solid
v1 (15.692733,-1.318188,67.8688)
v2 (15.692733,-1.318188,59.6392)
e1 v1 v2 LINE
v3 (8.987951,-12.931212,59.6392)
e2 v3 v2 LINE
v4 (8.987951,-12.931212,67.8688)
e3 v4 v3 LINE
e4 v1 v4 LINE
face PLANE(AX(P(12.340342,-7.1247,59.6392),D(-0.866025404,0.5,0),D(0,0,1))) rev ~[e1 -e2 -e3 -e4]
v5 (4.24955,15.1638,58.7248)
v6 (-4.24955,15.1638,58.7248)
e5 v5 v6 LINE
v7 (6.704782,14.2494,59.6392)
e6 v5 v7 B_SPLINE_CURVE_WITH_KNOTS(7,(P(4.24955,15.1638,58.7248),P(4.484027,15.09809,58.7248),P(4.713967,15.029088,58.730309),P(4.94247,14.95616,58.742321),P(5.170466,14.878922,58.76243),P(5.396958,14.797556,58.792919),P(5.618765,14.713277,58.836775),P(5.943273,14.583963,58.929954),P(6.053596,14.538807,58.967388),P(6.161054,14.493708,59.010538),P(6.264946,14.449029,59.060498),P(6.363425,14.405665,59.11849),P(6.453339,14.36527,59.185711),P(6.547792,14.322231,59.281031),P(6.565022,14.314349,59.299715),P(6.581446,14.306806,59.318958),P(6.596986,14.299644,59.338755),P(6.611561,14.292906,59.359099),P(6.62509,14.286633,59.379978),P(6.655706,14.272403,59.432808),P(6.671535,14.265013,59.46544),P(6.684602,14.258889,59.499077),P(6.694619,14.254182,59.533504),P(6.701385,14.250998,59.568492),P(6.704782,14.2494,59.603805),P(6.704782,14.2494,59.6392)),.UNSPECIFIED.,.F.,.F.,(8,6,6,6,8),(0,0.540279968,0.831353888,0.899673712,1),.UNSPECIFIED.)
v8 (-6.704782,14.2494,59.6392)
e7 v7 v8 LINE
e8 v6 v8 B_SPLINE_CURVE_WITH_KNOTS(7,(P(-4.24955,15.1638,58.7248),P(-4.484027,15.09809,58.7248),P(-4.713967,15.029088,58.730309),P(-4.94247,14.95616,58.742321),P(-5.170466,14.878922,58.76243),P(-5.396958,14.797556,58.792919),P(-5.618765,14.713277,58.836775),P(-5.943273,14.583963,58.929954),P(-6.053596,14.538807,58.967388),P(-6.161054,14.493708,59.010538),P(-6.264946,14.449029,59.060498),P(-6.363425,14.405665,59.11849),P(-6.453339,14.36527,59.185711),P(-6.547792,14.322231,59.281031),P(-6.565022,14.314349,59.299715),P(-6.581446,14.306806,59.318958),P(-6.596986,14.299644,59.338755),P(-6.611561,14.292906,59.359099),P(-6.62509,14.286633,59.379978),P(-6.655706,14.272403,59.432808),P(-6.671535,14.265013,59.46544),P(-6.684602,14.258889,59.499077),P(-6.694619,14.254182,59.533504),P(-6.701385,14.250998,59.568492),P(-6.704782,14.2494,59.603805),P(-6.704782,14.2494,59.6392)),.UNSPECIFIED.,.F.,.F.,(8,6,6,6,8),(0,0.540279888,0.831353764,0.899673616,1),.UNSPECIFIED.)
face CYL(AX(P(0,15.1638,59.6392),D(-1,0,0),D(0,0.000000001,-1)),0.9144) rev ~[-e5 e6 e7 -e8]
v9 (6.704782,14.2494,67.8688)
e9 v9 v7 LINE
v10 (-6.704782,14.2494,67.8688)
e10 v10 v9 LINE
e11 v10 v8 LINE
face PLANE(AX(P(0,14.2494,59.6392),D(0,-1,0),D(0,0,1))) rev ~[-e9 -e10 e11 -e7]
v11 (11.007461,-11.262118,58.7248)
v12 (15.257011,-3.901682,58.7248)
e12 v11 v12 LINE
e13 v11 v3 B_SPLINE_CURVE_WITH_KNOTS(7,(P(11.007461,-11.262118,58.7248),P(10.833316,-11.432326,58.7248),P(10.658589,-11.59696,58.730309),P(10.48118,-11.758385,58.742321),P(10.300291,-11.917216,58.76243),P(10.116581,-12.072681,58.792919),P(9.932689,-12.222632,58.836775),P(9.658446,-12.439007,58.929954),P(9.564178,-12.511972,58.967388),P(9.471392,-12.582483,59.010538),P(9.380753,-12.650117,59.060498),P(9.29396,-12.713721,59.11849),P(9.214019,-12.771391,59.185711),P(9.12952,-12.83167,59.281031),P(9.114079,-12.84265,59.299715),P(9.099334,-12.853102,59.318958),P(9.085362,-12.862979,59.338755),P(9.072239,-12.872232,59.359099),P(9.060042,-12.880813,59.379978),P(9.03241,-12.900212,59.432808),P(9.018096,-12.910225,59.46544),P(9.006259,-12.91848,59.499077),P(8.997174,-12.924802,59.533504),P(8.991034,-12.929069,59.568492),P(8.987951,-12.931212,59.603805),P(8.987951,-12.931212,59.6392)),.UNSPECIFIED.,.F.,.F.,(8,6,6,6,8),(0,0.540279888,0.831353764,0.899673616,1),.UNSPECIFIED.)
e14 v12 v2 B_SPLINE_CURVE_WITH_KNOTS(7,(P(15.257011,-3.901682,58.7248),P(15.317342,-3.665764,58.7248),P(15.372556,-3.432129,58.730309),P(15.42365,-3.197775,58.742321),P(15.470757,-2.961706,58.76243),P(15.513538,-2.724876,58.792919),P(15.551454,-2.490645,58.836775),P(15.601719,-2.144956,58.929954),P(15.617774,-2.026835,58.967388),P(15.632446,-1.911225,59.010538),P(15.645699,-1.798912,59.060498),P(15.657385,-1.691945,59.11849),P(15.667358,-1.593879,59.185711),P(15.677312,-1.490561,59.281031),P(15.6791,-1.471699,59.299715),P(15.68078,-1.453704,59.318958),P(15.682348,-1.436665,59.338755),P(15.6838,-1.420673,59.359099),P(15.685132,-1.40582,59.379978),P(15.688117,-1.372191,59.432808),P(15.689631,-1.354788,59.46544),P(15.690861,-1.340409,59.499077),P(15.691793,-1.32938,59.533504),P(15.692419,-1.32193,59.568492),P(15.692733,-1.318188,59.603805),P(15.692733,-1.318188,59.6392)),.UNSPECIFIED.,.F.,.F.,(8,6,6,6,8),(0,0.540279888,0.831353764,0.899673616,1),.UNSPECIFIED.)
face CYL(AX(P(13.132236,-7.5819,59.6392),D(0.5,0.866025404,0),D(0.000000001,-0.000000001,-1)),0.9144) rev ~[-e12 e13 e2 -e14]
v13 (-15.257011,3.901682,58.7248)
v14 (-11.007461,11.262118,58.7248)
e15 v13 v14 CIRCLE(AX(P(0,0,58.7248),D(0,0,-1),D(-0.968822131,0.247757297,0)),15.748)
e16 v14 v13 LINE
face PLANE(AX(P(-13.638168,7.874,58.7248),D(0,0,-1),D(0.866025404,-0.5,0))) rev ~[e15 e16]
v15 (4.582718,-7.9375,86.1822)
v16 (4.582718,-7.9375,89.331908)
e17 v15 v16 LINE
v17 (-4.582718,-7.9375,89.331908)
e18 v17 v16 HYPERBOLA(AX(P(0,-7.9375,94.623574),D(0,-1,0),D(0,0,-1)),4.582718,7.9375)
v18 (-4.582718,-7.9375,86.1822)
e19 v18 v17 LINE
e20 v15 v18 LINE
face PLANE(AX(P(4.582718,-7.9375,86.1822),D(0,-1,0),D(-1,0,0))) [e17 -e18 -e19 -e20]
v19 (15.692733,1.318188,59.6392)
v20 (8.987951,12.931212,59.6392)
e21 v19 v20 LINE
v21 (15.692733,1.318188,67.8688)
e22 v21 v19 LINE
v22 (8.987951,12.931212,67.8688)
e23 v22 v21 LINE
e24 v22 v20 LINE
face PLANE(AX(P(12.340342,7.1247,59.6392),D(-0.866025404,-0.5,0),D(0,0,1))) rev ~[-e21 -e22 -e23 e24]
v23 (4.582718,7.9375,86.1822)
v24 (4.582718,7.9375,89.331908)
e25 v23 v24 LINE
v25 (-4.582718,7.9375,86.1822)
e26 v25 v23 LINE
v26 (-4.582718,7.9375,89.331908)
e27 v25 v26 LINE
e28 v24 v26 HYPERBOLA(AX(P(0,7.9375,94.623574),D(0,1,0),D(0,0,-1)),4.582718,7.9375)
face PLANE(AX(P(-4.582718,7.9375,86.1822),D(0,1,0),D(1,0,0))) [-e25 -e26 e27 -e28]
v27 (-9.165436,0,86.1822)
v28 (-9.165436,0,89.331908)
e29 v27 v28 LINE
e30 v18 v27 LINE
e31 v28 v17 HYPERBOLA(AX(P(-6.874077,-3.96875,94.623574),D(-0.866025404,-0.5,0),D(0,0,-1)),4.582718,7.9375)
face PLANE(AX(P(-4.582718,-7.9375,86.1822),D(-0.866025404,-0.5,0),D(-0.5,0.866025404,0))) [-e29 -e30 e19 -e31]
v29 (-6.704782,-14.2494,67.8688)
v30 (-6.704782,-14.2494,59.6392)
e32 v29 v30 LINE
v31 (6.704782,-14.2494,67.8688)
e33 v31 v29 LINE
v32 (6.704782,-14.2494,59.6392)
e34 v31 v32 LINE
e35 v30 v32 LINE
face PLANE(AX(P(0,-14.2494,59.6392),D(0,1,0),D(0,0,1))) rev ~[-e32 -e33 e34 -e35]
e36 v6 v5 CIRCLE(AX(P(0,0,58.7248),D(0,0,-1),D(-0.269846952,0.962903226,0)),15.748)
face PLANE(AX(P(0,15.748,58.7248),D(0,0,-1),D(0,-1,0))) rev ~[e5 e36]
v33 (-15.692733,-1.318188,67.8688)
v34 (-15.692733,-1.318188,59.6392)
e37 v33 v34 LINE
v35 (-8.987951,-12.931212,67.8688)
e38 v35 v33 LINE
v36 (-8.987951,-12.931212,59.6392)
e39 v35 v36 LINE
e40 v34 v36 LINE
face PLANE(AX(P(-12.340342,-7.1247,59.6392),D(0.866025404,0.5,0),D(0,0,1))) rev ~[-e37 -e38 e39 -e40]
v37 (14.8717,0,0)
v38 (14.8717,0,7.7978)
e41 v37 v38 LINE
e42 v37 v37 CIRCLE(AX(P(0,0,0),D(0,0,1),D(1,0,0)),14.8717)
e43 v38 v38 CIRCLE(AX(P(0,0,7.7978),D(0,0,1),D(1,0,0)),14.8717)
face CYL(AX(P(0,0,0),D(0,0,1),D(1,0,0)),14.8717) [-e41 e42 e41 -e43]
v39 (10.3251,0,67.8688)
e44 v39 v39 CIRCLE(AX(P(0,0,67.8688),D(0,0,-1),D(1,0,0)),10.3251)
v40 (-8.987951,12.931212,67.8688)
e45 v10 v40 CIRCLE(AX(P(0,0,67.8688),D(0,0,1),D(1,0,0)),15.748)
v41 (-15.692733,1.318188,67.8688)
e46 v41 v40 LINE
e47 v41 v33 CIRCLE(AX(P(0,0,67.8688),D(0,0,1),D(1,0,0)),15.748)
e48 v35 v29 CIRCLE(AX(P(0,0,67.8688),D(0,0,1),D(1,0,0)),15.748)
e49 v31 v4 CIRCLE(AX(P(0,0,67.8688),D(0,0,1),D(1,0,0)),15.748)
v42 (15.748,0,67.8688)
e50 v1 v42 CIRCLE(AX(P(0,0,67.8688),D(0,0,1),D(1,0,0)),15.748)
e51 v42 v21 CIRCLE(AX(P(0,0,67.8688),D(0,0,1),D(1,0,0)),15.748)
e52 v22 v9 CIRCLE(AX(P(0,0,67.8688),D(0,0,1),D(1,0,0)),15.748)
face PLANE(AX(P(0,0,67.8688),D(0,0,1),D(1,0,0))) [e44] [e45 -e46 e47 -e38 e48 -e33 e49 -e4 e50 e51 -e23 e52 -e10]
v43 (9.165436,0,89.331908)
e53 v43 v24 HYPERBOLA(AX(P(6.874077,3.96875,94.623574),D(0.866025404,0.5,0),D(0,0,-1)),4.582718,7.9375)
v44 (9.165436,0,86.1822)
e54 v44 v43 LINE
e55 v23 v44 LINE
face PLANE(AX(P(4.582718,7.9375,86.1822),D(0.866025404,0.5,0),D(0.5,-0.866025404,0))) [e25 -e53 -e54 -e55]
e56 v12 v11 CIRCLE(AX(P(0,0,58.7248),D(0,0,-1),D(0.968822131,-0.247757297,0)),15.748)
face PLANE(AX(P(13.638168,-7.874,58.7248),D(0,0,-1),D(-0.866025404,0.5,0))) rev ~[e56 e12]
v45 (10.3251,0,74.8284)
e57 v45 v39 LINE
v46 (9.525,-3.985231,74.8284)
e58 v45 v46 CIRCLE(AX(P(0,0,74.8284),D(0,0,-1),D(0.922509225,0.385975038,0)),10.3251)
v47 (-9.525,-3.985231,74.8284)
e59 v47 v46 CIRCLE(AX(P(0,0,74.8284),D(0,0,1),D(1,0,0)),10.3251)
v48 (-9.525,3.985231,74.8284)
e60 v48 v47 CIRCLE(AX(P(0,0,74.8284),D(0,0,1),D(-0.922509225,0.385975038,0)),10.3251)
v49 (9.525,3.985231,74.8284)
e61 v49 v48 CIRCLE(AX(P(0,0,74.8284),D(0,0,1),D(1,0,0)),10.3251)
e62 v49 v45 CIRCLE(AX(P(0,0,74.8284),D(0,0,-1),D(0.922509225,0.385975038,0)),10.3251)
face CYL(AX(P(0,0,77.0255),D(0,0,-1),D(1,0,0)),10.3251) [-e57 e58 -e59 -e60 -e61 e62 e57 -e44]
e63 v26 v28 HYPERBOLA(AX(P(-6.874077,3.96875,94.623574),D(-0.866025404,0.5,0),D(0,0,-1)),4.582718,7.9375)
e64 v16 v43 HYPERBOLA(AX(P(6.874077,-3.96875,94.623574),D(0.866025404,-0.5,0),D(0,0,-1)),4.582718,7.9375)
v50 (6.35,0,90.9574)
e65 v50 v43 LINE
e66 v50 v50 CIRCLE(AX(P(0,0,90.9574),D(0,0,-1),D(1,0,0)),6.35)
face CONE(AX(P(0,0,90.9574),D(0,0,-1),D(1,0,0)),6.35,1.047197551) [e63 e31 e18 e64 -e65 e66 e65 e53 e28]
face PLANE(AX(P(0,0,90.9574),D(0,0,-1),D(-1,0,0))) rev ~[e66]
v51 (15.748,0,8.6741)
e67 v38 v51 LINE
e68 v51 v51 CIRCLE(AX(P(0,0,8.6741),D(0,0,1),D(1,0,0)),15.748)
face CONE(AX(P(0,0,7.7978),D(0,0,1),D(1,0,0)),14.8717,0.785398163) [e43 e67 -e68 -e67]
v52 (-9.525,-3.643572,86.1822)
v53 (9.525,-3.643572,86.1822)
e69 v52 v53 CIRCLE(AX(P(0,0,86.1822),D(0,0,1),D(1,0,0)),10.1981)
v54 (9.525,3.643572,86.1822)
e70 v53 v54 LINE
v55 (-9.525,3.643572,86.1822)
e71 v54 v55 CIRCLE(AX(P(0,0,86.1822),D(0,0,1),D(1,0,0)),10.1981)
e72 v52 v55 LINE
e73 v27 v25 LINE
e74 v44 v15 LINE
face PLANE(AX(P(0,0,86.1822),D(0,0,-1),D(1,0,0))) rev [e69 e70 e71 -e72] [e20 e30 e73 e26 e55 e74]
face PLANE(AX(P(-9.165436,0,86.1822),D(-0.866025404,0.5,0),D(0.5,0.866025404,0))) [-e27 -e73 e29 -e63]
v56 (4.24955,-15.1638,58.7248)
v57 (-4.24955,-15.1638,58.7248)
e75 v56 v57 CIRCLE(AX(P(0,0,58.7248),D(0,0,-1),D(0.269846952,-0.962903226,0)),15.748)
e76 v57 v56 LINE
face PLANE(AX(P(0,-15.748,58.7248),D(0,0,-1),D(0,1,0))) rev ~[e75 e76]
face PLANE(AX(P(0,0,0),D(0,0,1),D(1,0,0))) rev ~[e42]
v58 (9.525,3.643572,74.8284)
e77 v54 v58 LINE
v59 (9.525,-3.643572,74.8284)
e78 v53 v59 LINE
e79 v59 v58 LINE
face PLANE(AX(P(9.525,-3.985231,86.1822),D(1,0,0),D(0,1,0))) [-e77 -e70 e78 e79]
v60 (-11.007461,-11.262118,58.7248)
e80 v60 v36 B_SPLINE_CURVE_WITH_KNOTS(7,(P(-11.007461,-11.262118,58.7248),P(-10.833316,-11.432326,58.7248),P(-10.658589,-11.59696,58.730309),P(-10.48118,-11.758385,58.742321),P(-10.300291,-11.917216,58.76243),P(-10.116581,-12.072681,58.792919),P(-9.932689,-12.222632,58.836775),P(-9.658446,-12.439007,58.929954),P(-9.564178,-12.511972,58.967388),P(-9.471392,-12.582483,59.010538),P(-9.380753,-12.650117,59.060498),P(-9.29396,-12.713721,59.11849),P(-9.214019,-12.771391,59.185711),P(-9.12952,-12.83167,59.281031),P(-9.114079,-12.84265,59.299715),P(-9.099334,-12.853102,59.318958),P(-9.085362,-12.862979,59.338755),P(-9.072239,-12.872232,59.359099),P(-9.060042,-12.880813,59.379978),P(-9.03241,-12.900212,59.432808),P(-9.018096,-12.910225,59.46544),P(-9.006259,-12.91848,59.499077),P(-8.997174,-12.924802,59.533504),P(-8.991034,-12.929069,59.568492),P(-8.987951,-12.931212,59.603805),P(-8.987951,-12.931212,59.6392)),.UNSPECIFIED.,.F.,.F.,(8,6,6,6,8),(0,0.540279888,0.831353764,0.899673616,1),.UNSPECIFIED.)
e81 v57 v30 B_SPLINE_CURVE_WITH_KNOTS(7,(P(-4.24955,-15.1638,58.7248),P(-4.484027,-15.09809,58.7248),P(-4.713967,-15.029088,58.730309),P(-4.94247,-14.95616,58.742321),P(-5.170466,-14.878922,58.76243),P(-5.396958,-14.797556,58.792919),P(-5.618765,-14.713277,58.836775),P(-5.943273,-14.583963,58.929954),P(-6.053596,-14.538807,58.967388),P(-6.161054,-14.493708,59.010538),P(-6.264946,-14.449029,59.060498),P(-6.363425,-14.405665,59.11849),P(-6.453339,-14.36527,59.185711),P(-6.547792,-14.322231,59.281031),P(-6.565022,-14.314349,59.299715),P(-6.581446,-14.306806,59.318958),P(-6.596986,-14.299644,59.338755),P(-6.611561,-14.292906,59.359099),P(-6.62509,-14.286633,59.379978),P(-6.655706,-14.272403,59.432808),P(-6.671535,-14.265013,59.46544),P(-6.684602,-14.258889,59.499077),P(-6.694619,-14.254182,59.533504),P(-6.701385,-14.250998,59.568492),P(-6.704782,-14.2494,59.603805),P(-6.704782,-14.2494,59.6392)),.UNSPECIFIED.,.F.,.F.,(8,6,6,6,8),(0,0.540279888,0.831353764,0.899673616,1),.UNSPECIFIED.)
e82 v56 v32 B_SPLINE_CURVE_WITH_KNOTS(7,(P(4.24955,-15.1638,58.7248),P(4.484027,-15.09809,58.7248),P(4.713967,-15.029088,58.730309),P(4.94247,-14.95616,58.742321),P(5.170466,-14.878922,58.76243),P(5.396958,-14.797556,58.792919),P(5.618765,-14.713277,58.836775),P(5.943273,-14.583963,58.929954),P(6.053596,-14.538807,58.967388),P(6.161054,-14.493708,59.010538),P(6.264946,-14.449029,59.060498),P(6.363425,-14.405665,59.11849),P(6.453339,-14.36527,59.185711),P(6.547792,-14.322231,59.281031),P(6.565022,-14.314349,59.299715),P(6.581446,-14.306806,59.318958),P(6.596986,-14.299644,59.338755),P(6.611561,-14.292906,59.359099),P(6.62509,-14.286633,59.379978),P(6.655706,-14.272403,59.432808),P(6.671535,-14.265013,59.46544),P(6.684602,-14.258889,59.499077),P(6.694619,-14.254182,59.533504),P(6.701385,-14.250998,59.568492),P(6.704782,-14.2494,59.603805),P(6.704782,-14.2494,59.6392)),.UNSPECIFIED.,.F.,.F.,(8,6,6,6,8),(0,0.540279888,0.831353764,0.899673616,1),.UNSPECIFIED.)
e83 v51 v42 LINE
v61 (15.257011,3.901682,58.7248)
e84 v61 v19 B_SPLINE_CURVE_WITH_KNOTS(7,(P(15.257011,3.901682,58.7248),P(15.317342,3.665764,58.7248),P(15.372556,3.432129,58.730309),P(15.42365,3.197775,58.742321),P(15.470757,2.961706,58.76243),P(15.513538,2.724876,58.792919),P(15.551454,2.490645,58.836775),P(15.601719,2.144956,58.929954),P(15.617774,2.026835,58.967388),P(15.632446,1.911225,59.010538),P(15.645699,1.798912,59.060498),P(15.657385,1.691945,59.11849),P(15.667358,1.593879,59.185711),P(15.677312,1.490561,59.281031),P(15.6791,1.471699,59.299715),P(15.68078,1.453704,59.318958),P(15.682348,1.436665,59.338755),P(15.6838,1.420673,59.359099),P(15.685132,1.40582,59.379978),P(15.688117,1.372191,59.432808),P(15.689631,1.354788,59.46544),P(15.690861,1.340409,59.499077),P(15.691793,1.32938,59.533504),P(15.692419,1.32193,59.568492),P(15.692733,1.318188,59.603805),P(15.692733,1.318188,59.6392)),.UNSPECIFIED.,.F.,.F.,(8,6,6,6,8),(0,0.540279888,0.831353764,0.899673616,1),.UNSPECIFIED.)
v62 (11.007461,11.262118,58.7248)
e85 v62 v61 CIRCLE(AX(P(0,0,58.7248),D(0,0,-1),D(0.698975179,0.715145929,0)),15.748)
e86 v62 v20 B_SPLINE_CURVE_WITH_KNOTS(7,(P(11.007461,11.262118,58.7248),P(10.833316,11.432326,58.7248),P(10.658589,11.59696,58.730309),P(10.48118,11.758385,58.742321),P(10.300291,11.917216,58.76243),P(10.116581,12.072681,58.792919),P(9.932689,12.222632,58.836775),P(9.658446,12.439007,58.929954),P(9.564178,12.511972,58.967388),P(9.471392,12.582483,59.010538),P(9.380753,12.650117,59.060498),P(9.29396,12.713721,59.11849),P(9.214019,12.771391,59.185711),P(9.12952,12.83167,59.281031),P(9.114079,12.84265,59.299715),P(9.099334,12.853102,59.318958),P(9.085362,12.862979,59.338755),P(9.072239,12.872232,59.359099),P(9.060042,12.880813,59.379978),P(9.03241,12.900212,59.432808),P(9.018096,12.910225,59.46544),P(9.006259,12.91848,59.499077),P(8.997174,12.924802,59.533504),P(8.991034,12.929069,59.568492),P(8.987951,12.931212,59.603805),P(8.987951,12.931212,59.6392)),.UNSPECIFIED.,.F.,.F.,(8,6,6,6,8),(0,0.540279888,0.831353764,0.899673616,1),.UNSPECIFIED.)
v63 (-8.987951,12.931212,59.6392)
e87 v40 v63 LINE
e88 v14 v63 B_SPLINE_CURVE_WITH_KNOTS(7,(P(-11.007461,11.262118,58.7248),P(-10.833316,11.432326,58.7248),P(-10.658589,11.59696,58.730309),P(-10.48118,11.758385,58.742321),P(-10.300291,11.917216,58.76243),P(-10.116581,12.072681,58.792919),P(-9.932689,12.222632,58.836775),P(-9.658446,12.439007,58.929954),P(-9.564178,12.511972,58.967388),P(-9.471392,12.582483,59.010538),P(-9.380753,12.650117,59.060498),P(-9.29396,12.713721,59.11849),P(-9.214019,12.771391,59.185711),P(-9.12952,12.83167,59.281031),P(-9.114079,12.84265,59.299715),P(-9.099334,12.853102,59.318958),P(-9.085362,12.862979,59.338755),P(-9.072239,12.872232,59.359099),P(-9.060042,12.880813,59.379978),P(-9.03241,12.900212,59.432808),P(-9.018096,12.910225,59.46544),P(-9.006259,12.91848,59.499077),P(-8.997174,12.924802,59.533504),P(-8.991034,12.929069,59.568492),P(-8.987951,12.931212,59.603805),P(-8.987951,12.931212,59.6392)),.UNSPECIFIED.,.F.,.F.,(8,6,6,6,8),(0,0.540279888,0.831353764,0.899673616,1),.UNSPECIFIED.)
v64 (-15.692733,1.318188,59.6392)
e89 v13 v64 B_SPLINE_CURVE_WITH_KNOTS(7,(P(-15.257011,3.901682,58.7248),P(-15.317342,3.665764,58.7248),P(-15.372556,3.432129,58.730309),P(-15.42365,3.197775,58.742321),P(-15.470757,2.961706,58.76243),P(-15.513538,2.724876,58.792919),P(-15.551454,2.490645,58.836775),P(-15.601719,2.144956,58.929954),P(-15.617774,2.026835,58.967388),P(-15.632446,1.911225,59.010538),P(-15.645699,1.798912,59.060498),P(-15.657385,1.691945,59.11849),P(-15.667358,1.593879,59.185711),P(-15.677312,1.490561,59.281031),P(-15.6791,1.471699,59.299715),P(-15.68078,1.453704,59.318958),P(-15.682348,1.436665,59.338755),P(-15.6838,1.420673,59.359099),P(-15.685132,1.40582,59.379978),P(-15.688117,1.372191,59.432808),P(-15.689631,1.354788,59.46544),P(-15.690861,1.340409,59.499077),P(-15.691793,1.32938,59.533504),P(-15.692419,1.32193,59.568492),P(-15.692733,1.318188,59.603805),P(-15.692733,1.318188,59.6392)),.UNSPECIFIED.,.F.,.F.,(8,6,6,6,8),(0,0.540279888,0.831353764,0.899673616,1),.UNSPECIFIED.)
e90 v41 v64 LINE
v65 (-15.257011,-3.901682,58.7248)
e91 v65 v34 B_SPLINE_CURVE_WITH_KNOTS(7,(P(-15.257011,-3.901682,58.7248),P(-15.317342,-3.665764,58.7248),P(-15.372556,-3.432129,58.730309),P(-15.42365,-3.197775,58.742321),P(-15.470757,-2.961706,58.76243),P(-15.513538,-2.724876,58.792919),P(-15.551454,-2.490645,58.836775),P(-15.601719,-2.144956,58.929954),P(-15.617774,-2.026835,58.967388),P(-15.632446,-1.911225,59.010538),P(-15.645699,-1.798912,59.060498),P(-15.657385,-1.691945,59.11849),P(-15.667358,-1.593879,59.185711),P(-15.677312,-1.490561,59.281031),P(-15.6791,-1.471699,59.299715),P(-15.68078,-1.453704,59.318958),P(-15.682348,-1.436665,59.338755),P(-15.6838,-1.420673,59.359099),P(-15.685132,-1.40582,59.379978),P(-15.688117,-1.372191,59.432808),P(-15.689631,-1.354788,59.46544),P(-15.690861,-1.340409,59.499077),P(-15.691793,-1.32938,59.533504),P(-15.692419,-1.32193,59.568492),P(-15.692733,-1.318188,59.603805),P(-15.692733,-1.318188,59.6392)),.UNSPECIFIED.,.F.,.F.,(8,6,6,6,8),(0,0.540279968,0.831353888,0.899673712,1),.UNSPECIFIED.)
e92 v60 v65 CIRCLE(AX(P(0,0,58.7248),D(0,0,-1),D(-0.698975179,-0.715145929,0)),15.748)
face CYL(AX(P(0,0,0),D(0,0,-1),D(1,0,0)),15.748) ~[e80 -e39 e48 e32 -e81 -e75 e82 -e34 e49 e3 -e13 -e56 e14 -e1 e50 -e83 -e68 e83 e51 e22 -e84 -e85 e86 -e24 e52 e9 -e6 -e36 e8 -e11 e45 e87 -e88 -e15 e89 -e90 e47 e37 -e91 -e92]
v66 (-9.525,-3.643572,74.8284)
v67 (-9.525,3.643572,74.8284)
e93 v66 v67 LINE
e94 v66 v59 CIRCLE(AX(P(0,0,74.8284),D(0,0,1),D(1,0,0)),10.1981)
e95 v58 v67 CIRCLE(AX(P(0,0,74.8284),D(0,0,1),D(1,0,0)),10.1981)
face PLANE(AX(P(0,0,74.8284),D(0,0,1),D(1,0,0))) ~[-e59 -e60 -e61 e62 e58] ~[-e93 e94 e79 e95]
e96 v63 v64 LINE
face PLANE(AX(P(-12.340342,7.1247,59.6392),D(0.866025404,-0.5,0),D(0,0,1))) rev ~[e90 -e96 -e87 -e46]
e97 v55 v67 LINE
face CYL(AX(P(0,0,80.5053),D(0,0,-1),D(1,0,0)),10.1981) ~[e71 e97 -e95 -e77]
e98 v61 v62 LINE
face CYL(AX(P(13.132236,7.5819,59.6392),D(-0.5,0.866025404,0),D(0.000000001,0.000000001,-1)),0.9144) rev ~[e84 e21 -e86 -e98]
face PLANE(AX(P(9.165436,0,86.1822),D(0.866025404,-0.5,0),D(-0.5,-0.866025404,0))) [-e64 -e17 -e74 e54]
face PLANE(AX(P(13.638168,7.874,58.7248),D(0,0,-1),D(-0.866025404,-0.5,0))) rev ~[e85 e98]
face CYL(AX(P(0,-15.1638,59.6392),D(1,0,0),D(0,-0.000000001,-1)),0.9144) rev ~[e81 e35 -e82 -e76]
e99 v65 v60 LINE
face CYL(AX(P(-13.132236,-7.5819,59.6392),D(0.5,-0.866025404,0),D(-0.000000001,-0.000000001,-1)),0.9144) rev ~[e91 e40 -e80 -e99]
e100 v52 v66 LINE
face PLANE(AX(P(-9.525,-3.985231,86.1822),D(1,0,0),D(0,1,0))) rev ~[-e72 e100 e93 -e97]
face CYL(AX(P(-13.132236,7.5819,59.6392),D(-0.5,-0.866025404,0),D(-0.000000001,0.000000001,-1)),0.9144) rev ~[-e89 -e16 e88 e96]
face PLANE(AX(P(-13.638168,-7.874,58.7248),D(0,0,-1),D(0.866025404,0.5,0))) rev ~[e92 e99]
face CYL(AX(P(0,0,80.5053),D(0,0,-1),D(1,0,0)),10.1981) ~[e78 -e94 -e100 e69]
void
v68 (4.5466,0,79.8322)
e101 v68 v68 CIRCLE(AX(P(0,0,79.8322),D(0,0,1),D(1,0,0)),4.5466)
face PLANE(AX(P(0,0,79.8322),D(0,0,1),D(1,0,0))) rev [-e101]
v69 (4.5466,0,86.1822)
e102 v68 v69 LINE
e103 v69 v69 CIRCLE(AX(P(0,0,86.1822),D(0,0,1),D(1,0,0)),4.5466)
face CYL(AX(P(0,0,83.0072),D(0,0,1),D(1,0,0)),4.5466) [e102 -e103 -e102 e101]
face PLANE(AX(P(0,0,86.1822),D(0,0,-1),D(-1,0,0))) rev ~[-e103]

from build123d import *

# Parameters (mm, degrees)
SKETCH1_R           = 15.748
EXTRUDE1_DEPTH      = 67.8688
CUT_EXTRUDE1_DEPTH  = 18.8976
SKETCH11_W          = 18.3134
SKETCH11_H          = 10.3251
S2D0011_W           = 4.5466
S2D0011_H           = 6.35
CUT_EXTRUDE10_DEPTH = 11.3538
EXTRUDE2_DEPTH      = 4.7752
CIRPATTERN2_COUNT   = 6
SKETCH18_W          = 11.3538
SKETCH18_H          = 0.127


with BuildPart() as part:
    # Sketch1 → Extrude1 (new body)
    with BuildSketch(Plane.XY):
        Circle(SKETCH1_R)
    extrude(amount=EXTRUDE1_DEPTH)

    # Sketch2 → Cut-Extrude1 (cut, symmetric)
    with BuildSketch(Plane(origin=(0, 0, 0), x_dir=(0, 0, 1), z_dir=(1, 0, 0))):
        with BuildLine():
            Line((58.7248, 15.748), (58.7248, 15.1638))
            ThreePointArc((58.7248, 15.1638), (58.992621559, 14.517221559), (59.6392, 14.2494))
            Line((59.6392, 14.2494), (67.8688, 14.2494))
            Line((67.8688, 14.2494), (67.8688, 15.748))
            Line((67.8688, 15.748), (58.7248, 15.748))
        make_face()
    cut_extrude1 = extrude(amount=CUT_EXTRUDE1_DEPTH, both=True, mode=Mode.SUBTRACT)

    # Sketch10 → Cut-Revolve1 (revolve, cut)
    with BuildSketch(Plane(origin=(0, 0, 0), x_dir=(0, 0, 1), z_dir=(1, 0, 0)), mode=Mode.PRIVATE) as cut_revolve1_sk:
        Polygon((0, 14.8717), (7.7978, 14.8717), (8.6741, 15.748), (0, 15.748), align=None)
    revolve(cut_revolve1_sk.sketch.rotate(Axis((0, 0, -0.433705), (0, 0, 1)), 90), axis=Axis((0, 0, -0.433705), (0, 0, 1)), mode=Mode.SUBTRACT)  # turned: the seam where the file's is

    # Sketch11 → Revolve1 (revolve)
    with BuildSketch(Plane(origin=(0, 0, 0), x_dir=(0, 0, -1), z_dir=(1, 0, 0)), mode=Mode.PRIVATE) as revolve1_sk:
        with Locations((-77.0255, 5.16255)):
            Rectangle(SKETCH11_W, SKETCH11_H)
    revolve(revolve1_sk.sketch.rotate(Axis((0, 0, 71.06412), (0, 0, -1)), 90), axis=Axis((0, 0, 71.06412), (0, 0, -1)))  # turned: the seam where the file's is

    # S2D0011 → Cut-Revolve2 (revolve, cut)
    with BuildSketch(Plane(origin=(-4.5466, 0, 70.3072), x_dir=(-1, 0, 0), z_dir=(0, 1, 0)), mode=Mode.PRIVATE) as cut_revolve2_sk:
        with Locations((-2.2733, 12.7)):
            Rectangle(S2D0011_W, S2D0011_H)
    revolve(cut_revolve2_sk.sketch.rotate(Axis((0, 0, 48.067068782), (0, 0, 1)), 180), axis=Axis((0, 0, 48.067068782), (0, 0, 1)), mode=Mode.SUBTRACT)  # turned: the seam where the file's is

    # Sketch14 → Cut-Extrude10 (cut)
    with BuildSketch(Plane.YX.offset(-86.1822)):
        with BuildLine():
            Line((-3.98523086, 9.525), (3.98523086, 9.525))
            ThreePointArc((3.98523086, 9.525), (0, 10.3251), (-3.98523086, 9.525))
        make_face()
        with BuildLine():
            Line((-3.98523086, -9.525), (3.98523086, -9.525))
            ThreePointArc((3.98523086, -9.525), (0, -10.3251), (-3.98523086, -9.525))
        make_face()
    extrude(amount=CUT_EXTRUDE10_DEPTH, mode=Mode.SUBTRACT)

    # Sketch15 → Extrude2 (add)
    with BuildSketch(Plane.XY.offset(86.1822)):
        Polygon((-4.582717762, 7.9375), (4.582717762, 7.9375), (9.165435523, 0), (4.582717762, -7.9375), (-4.582717762, -7.9375), (-9.165435523, 0), align=None)
    extrude(amount=EXTRUDE2_DEPTH)

    # Sketch16 → Cut-Revolve3 (revolve, cut)
    with BuildSketch(Plane(origin=(0, 0, 0), x_dir=(1, 0, 0), z_dir=(0, 1, 0))):
        Polygon((6.35, -90.9574), (9.165435523, -89.331907543), (9.165435523, -90.9574), align=None)
    revolve(axis=Axis((0, 0, 75.163674623), (0, 0, -1)), mode=Mode.SUBTRACT)

    # CirPattern2: Cut-Extrude1 ×6 about axis
    cirpattern2_axis = Axis((0, 0, 0), (0, 0, 1))
    for i in range(1, CIRPATTERN2_COUNT):
        add(cut_extrude1.rotate(cirpattern2_axis, i * 360 / CIRPATTERN2_COUNT), mode=Mode.SUBTRACT)

    # Sketch18 → Cut-Revolve4 (revolve, cut)
    with BuildSketch(Plane(origin=(0, 0, 0), x_dir=(0, 0, -1), z_dir=(1, 0, 0)), mode=Mode.PRIVATE) as cut_revolve4_sk:
        with Locations((-80.5053, 10.2616)):
            Rectangle(SKETCH18_W, SKETCH18_H)
    revolve(cut_revolve4_sk.sketch.rotate(Axis((0, 0, 0), (0, 0, 1)), 270), axis=Axis((0, 0, 0), (0, 0, 1)), mode=Mode.SUBTRACT)  # turned: the seam where the file's is


solid = part.part
